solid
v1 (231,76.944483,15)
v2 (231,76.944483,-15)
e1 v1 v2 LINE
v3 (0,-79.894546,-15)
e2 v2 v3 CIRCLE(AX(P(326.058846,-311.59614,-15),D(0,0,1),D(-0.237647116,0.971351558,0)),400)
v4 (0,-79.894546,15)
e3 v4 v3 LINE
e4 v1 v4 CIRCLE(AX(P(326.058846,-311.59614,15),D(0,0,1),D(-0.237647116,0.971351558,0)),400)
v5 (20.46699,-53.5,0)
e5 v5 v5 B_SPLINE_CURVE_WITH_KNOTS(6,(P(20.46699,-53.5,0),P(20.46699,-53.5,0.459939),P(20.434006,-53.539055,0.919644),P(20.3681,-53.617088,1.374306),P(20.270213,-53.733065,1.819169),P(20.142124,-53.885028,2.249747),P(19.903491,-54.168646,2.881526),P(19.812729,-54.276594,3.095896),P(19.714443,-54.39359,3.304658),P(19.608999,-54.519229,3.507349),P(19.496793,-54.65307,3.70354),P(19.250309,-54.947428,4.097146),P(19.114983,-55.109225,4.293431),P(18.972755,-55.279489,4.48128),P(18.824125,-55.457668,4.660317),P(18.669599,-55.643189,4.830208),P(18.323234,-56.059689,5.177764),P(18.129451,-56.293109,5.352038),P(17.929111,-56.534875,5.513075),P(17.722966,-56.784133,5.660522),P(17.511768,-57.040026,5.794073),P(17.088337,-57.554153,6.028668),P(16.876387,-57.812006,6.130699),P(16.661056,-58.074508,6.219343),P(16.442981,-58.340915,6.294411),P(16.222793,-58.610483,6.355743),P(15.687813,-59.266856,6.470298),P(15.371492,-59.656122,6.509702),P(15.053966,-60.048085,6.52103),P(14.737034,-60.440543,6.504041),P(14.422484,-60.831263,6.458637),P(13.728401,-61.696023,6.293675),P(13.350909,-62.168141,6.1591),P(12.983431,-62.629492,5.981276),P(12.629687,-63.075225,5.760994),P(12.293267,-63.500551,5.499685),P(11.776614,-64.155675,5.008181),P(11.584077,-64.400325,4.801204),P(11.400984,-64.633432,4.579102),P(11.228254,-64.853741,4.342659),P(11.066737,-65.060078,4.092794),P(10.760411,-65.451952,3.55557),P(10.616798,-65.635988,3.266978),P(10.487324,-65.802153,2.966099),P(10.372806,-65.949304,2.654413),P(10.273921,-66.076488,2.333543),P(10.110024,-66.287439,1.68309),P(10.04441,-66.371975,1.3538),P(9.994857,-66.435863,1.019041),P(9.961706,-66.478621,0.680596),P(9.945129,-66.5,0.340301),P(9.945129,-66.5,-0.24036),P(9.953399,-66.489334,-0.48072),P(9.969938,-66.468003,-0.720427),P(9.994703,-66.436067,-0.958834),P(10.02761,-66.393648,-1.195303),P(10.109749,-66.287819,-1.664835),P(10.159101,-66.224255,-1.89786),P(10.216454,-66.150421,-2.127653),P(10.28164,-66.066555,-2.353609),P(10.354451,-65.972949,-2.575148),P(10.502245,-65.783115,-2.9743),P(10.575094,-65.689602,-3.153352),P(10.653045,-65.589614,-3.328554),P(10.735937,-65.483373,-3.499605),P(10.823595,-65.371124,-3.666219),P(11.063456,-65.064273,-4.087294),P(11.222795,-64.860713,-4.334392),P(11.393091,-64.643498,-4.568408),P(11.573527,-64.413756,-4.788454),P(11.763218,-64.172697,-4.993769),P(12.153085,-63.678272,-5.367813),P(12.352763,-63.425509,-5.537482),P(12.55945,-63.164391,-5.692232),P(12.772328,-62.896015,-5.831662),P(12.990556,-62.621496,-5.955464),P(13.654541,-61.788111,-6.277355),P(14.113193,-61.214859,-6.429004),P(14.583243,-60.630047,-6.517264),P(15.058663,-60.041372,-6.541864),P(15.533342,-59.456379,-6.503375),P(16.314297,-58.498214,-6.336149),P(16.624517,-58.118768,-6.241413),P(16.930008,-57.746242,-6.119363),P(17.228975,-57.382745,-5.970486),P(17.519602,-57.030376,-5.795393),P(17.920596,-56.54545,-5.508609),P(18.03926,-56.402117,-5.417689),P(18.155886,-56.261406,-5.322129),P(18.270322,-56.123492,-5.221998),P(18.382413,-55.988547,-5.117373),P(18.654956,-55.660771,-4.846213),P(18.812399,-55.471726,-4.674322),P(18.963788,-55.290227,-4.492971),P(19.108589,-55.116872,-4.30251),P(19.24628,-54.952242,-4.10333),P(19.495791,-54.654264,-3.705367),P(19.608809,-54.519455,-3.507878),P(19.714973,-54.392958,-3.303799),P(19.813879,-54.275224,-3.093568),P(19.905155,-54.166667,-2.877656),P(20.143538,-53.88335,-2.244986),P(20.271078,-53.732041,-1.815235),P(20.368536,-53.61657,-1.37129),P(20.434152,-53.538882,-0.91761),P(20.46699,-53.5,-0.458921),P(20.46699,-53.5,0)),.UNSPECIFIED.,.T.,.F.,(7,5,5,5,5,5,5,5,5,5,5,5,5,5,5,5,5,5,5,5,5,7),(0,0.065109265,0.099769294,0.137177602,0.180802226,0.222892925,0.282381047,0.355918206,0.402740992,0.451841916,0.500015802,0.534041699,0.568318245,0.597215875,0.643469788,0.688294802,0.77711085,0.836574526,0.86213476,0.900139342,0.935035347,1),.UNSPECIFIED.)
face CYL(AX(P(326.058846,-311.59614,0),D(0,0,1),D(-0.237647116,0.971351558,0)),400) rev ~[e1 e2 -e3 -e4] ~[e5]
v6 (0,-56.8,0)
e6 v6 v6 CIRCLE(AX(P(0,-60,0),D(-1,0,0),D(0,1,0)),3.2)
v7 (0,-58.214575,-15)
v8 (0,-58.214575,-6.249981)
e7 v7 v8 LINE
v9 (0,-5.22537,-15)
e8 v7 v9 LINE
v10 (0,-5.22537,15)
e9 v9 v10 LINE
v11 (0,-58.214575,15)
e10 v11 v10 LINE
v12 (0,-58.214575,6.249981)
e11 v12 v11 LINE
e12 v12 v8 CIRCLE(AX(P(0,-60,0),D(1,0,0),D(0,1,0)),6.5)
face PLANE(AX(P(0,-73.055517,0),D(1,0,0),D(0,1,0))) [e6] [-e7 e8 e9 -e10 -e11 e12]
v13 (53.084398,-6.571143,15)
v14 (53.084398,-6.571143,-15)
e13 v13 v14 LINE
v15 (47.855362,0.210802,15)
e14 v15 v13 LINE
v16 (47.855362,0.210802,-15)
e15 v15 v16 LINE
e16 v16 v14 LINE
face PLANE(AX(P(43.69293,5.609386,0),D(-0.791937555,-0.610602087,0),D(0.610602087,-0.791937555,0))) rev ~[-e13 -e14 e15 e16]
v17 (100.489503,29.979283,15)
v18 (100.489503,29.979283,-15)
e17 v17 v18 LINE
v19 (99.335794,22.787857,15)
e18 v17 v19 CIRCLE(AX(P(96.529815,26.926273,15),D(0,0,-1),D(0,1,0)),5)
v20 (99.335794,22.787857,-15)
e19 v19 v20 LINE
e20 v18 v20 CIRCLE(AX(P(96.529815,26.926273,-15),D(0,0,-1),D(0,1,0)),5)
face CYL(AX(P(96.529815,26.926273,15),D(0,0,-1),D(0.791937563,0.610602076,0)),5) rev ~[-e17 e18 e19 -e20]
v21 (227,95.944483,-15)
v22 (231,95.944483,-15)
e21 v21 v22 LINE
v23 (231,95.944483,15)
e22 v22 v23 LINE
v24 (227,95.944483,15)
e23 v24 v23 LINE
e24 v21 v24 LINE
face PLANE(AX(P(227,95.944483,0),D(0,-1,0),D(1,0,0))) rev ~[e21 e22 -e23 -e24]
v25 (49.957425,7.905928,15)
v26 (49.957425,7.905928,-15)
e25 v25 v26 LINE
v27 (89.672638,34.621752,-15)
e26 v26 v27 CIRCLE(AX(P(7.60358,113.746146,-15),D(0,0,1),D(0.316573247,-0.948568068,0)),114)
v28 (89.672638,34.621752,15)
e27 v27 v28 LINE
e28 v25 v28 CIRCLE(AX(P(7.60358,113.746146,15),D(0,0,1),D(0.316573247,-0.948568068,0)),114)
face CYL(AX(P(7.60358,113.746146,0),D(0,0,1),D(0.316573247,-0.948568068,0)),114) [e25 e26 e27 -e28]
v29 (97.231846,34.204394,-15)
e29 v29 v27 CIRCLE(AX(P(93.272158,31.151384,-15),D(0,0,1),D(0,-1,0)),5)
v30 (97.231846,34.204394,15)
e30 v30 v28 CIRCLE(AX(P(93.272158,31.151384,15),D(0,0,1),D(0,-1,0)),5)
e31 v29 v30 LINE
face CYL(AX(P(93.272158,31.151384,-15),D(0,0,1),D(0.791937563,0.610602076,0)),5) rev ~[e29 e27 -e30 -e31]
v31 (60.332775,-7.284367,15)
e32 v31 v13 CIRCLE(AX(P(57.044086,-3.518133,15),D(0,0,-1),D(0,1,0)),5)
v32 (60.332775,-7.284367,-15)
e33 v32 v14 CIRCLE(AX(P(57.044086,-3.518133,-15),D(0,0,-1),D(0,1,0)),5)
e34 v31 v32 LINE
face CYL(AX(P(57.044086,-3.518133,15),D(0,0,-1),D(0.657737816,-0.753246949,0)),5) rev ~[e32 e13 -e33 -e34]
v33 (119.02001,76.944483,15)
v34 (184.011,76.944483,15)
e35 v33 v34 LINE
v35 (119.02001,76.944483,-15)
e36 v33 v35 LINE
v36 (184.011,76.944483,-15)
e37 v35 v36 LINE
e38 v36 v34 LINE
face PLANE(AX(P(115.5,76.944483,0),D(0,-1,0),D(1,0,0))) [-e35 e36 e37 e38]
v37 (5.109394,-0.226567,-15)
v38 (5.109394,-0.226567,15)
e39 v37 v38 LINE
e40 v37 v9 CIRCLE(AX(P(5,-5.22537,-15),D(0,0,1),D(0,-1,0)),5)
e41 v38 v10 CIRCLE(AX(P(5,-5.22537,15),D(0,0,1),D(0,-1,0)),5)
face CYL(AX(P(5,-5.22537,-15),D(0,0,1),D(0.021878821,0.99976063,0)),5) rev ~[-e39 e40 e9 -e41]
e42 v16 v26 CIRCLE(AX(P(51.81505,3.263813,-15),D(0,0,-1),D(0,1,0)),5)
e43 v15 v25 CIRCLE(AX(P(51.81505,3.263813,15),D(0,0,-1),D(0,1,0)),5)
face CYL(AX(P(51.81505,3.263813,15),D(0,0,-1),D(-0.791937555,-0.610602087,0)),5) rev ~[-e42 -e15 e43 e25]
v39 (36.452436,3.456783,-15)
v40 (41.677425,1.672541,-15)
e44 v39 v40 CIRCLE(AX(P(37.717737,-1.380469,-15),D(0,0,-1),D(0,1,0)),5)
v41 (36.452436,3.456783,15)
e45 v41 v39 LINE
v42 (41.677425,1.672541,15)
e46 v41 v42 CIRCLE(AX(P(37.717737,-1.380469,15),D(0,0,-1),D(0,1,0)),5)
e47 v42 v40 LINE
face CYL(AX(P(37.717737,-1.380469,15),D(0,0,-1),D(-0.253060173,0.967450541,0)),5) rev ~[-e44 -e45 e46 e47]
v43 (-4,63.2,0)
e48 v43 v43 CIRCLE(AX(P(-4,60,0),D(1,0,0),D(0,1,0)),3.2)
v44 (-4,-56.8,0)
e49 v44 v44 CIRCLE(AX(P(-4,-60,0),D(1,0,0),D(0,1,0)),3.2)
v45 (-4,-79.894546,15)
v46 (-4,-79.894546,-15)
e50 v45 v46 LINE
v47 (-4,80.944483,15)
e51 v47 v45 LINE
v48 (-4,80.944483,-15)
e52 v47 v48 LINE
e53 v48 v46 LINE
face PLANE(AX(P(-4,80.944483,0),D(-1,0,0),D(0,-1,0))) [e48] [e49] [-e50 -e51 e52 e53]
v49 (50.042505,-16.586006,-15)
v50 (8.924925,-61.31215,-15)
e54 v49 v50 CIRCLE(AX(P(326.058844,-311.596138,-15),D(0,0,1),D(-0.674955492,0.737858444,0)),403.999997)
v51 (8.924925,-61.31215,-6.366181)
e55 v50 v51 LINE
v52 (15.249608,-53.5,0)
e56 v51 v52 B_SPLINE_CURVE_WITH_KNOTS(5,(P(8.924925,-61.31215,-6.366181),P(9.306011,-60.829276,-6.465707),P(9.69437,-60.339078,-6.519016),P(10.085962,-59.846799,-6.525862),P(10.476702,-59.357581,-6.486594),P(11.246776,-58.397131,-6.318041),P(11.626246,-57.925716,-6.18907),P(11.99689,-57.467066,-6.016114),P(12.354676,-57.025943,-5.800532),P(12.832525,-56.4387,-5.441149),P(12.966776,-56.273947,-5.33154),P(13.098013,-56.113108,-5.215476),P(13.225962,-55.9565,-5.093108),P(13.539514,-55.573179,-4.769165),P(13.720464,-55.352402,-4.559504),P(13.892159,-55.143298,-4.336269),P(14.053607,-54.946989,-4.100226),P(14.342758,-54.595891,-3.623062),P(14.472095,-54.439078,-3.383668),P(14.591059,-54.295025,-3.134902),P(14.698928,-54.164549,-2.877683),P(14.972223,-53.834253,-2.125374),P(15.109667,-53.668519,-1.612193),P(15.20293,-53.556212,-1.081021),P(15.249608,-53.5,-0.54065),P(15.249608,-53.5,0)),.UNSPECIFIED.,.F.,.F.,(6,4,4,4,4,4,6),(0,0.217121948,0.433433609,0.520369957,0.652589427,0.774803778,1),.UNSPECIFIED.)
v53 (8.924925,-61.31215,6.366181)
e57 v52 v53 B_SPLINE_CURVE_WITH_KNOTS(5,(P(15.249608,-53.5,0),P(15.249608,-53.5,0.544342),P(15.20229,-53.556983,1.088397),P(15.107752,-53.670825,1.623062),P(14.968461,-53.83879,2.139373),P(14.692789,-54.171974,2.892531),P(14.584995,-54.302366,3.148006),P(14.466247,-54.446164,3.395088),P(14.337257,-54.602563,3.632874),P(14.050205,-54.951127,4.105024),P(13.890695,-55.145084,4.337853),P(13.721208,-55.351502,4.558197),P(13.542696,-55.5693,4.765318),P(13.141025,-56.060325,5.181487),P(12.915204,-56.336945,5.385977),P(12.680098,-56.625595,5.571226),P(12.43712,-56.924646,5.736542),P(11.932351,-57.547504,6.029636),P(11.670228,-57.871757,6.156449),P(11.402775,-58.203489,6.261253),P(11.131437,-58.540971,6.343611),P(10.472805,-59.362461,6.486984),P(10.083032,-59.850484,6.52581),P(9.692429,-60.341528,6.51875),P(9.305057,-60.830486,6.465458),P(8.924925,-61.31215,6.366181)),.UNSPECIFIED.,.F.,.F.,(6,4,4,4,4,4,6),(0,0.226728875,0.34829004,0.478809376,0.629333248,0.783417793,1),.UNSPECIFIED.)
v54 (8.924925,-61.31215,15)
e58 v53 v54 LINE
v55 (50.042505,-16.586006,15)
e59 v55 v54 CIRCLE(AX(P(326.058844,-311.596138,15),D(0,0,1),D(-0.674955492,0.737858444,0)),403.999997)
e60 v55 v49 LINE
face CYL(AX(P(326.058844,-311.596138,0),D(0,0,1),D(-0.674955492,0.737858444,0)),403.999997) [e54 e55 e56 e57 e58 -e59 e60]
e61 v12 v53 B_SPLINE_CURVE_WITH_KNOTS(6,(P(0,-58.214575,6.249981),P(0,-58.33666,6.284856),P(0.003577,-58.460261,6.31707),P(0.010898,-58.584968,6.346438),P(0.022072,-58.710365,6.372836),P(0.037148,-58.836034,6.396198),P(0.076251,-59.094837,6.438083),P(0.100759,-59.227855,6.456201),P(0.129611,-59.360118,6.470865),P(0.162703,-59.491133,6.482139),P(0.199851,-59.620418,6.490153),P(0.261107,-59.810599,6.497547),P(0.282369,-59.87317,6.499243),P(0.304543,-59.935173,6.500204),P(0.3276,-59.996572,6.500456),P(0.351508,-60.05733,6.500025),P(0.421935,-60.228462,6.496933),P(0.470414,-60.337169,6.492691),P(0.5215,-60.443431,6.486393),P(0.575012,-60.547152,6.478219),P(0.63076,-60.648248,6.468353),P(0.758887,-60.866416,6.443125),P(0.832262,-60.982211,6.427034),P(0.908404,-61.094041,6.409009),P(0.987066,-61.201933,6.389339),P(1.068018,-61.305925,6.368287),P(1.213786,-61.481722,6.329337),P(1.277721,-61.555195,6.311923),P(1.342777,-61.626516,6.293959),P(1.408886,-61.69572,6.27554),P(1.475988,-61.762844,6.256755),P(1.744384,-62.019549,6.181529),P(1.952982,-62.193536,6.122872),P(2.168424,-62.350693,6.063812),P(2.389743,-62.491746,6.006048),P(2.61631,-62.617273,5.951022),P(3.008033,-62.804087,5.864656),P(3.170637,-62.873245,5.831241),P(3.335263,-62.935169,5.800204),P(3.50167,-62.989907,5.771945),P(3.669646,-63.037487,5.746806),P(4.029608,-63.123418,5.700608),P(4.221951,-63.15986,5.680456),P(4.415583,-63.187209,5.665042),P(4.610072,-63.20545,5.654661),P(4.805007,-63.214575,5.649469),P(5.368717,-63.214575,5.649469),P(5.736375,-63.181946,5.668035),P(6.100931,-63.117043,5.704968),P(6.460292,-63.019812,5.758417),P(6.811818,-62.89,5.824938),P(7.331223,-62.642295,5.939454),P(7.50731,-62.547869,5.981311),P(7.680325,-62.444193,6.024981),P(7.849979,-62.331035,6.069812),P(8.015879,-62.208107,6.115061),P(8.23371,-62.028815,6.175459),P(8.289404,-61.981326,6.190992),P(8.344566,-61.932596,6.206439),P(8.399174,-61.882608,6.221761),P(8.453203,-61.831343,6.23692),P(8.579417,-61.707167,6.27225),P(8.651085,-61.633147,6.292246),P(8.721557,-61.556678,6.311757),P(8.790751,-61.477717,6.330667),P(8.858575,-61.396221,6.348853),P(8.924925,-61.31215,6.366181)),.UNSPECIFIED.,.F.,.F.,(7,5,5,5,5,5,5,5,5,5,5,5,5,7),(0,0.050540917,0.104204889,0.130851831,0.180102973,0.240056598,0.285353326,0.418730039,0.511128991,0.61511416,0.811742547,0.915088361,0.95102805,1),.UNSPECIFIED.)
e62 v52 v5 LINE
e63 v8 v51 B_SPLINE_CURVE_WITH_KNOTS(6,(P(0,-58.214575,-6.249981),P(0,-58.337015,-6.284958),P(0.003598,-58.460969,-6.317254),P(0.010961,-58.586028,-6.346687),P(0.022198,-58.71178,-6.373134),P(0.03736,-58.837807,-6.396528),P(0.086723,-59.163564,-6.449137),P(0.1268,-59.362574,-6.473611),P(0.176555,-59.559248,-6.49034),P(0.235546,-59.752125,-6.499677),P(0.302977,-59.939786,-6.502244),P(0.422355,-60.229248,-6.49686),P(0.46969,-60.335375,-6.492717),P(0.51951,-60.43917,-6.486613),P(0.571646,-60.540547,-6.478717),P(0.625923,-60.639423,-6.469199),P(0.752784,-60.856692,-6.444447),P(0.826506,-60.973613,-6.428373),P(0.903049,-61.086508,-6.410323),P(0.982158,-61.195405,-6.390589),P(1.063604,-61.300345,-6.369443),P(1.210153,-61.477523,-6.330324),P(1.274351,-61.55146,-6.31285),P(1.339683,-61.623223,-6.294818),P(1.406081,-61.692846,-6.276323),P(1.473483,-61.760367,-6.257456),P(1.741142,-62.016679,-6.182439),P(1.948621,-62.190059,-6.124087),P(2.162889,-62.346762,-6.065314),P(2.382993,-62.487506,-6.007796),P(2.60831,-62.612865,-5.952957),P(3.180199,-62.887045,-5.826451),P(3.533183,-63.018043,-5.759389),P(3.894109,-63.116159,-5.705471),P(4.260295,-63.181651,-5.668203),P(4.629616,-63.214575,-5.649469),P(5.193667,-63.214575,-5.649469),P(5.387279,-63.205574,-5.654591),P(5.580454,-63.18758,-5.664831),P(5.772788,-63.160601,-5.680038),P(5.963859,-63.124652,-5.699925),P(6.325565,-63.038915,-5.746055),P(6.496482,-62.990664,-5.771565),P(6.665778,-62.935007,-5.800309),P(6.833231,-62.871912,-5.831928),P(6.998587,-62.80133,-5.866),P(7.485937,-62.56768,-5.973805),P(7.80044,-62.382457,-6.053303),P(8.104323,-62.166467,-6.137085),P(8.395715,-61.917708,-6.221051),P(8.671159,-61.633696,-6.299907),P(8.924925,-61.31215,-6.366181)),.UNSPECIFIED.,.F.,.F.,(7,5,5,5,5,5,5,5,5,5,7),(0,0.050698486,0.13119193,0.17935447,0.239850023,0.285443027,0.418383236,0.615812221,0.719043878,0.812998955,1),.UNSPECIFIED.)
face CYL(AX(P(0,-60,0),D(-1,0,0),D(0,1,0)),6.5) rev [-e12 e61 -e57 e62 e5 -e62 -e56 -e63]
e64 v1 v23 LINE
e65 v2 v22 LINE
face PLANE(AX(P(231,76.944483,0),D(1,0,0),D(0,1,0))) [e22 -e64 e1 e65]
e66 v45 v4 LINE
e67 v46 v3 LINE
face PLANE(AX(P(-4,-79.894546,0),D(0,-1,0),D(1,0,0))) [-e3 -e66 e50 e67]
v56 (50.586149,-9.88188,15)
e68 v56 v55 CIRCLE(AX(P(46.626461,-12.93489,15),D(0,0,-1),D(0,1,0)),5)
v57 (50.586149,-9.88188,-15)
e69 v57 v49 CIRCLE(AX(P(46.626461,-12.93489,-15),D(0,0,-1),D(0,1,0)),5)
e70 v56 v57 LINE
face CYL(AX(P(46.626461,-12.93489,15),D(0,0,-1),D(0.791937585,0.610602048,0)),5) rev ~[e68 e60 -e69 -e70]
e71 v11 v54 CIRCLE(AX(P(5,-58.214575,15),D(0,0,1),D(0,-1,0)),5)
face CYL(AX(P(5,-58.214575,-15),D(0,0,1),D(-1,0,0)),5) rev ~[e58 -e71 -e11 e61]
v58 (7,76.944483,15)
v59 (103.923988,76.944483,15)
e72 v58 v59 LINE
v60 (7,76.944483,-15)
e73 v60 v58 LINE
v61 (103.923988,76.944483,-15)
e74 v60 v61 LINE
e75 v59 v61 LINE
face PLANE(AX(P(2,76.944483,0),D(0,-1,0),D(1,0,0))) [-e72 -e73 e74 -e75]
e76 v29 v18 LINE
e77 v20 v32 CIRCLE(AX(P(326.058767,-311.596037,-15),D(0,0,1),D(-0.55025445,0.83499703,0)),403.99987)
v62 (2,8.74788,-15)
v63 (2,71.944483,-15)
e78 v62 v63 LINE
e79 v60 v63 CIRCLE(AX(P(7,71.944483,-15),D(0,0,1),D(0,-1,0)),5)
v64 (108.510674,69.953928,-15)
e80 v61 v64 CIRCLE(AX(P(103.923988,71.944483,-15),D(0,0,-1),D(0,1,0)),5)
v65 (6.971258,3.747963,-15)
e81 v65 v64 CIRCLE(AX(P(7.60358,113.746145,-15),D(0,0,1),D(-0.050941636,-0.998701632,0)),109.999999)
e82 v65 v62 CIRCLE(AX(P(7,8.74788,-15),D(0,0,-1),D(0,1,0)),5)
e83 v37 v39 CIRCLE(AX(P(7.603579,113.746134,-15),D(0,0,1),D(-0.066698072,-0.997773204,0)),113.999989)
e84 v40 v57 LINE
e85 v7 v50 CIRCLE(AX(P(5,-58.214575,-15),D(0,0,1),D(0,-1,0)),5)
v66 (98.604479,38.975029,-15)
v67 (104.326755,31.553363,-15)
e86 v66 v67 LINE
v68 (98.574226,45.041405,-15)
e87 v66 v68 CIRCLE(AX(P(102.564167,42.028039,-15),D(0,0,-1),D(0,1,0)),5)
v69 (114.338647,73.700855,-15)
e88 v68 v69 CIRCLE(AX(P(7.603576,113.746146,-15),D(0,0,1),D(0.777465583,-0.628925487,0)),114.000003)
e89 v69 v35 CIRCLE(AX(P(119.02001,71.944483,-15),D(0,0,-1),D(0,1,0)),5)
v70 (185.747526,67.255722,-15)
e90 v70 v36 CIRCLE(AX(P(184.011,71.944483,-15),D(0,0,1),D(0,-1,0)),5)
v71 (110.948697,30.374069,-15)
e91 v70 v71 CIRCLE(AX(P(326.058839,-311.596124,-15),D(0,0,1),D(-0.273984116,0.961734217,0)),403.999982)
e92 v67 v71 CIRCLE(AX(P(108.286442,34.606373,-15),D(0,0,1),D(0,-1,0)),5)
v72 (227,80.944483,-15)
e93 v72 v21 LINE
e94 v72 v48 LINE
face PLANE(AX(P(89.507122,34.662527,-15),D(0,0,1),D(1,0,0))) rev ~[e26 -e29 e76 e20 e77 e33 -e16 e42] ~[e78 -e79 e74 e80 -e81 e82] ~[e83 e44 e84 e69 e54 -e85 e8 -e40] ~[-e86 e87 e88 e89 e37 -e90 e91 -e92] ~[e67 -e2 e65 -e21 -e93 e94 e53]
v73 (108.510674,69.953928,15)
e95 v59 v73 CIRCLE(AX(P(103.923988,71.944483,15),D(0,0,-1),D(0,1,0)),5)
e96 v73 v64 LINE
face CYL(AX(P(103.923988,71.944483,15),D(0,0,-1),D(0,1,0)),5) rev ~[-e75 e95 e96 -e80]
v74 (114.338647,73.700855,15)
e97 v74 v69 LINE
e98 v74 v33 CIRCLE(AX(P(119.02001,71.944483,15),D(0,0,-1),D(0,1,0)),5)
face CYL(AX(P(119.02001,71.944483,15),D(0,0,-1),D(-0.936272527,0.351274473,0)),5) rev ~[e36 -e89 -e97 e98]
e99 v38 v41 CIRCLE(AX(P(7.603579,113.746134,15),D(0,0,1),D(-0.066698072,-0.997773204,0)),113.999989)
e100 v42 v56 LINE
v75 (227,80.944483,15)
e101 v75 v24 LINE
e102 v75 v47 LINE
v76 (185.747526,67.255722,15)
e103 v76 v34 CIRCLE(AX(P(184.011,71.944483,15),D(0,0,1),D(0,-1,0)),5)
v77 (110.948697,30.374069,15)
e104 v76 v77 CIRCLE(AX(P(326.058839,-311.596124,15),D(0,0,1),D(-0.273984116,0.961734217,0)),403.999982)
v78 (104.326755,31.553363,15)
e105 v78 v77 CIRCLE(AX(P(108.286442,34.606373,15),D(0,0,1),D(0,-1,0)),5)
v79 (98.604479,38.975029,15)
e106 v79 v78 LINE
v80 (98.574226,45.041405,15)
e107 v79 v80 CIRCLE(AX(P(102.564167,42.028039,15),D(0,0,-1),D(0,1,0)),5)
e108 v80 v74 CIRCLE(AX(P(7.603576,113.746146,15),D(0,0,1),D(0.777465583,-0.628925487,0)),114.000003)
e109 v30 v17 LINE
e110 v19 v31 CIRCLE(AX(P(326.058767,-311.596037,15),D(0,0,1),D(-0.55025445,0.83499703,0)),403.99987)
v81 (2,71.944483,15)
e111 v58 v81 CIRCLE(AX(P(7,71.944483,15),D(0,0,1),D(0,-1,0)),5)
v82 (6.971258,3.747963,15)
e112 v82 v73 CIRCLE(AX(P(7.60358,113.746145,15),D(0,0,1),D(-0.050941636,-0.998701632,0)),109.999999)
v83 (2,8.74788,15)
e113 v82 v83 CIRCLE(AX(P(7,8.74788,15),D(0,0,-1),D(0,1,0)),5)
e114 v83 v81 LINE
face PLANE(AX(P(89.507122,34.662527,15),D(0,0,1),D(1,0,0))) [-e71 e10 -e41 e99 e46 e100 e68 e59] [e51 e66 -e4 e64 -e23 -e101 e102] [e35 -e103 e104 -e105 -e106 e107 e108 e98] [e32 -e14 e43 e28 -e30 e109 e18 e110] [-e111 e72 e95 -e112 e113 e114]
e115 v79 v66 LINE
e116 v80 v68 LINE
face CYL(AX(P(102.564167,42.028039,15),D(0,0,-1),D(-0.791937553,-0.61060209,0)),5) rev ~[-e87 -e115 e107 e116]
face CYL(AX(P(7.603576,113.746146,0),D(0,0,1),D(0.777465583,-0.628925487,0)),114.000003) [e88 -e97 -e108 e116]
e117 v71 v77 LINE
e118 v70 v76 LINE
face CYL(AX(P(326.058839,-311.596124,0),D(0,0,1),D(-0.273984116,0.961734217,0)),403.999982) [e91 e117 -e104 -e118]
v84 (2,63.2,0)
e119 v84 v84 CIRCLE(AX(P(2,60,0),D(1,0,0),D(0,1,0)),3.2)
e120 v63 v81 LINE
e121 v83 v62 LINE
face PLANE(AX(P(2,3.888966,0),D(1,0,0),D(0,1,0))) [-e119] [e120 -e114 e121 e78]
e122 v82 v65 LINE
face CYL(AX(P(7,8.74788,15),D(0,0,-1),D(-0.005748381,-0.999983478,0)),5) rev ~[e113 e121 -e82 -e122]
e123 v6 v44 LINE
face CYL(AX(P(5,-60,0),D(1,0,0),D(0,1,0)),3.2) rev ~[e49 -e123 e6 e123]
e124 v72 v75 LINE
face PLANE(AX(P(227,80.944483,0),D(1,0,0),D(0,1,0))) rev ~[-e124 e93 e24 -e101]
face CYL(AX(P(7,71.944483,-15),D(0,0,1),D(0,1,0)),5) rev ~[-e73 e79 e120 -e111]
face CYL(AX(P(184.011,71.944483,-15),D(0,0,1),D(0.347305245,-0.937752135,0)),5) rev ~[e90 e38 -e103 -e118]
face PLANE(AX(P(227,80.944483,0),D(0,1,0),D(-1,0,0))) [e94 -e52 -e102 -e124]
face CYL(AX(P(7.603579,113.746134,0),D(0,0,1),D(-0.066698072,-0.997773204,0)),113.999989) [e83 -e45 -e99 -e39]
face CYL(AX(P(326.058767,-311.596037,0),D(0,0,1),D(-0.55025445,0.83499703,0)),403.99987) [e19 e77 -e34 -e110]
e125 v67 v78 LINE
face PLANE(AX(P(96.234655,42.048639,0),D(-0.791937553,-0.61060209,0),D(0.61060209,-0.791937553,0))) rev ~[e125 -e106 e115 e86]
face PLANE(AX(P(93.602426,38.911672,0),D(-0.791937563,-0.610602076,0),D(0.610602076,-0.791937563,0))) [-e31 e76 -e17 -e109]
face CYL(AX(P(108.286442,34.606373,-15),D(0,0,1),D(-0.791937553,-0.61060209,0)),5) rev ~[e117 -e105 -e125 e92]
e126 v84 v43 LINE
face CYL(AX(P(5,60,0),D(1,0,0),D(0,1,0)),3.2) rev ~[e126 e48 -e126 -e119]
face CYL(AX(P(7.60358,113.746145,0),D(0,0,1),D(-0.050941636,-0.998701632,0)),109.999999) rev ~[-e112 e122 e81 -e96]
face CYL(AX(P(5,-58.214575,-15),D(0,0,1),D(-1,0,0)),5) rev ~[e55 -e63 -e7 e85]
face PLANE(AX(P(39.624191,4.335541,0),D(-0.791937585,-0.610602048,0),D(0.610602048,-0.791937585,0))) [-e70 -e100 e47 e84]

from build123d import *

# Parameters (mm, degrees)
PAD007_DEPTH    = 15
FILLET004_R     = 5
SKETCH016_R     = 3.2
POCKET007_DEPTH = 9.001
SKETCH017_R     = 6.5
POCKET008_DEPTH = 231.001


with BuildPart() as part:
    # Sketch015 → Pad007 (new body, symmetric)
    with BuildSketch(Plane.XY):
        with BuildLine():
            Line((231, 76.944483), (231, 80.944483))
            Line((231, 95.944483), (231, 80.944483))
            Line((227, 95.944483), (231, 95.944483))
            Line((227, 80.944483), (227, 95.944483))
            Line((227, 80.944483), (-4, 80.944483))
            Line((-4, 80.944483), (-4, -79.894546))
            Line((-4, -79.894546), (0, -79.894546))
            ThreePointArc((231, 76.944483), (101.370956, 19.334898), (0, -79.894546))
        make_face()
        with BuildLine():
            Line((0, -73.055517), (0, 0))
            ThreePointArc((0, 0), (20.003059, 0.422481), (39.624191, 4.335541))
            Line((39.624191, 4.335541), (53.376827, -13.501329))
            ThreePointArc((53.376827, -13.501329), (25.211158, -41.954399), (0, -73.055517))
        make_face(mode=Mode.SUBTRACT)
        with BuildLine():
            Line((2, 76.944483), (111.264747, 76.944483))
            ThreePointArc((2, 3.888966), (68.743581, 22.302719), (111.264747, 76.944483))
            Line((2, 3.888966), (2, 76.944483))
        make_face(mode=Mode.SUBTRACT)
        with BuildLine():
            ThreePointArc((215.369261, 76.944483), (159.431544, 56.441008), (107.117433, 27.933914))
            Line((96.234655, 42.048639), (107.117433, 27.933914))
            ThreePointArc((96.234655, 42.048639), (107.404352, 58.647999), (115.5, 76.944483))
            Line((115.5, 76.944483), (215.369261, 76.944483))
        make_face(mode=Mode.SUBTRACT)
        with BuildLine():
            Line((93.602426, 38.911672), (103.756041, 25.742655))
            ThreePointArc((103.756041, 25.742655), (79.375609, 8.346637), (56.350936, -10.807771))
            Line((43.69293, 5.609386), (56.350936, -10.807771))
            ThreePointArc((43.69293, 5.609386), (70.877923, 18.918104), (93.602426, 38.911672))
        make_face(mode=Mode.SUBTRACT)
    extrude(amount=PAD007_DEPTH, both=True)

    # Fillet004
    fillet004_edges = [part.edges().sort_by_distance(p)[0] for p in [
        (2, 76.944483, 0),
        (111.264747, 76.944483, 0),
        (115.5, 76.944483, 0),
        (2, 3.888966, 0),
        (0, 0, 0),
        (43.69293, 5.609386, 0),
        (39.624191, 4.335541, 0),
        (96.234655, 42.048639, 0),
        (93.602426, 38.911672, 0),
        (215.369261, 76.944483, 0),
        (0, -73.055517, 0),
        (53.376827, -13.501329, 0),
        (56.350936, -10.807771, 0),
        (103.756041, 25.742655, 0),
        (107.117433, 27.933914, 0),
    ]]
    fillet(fillet004_edges, radius=FILLET004_R)

    # Sketch016 → Pocket007 (cut, through all)
    with BuildSketch(Plane.YZ.offset(5)):
        with Locations((-60, 0)):
            Circle(SKETCH016_R)
        with Locations((60, 0)):
            Circle(SKETCH016_R)
    extrude(amount=-POCKET007_DEPTH, mode=Mode.SUBTRACT)

    # Sketch017 → Pocket008 (cut, through all)
    with BuildSketch(Plane.YZ):
        with Locations((-60, 0)):
            Circle(SKETCH017_R)
    extrude(amount=POCKET008_DEPTH, mode=Mode.SUBTRACT)


solid = part.part
